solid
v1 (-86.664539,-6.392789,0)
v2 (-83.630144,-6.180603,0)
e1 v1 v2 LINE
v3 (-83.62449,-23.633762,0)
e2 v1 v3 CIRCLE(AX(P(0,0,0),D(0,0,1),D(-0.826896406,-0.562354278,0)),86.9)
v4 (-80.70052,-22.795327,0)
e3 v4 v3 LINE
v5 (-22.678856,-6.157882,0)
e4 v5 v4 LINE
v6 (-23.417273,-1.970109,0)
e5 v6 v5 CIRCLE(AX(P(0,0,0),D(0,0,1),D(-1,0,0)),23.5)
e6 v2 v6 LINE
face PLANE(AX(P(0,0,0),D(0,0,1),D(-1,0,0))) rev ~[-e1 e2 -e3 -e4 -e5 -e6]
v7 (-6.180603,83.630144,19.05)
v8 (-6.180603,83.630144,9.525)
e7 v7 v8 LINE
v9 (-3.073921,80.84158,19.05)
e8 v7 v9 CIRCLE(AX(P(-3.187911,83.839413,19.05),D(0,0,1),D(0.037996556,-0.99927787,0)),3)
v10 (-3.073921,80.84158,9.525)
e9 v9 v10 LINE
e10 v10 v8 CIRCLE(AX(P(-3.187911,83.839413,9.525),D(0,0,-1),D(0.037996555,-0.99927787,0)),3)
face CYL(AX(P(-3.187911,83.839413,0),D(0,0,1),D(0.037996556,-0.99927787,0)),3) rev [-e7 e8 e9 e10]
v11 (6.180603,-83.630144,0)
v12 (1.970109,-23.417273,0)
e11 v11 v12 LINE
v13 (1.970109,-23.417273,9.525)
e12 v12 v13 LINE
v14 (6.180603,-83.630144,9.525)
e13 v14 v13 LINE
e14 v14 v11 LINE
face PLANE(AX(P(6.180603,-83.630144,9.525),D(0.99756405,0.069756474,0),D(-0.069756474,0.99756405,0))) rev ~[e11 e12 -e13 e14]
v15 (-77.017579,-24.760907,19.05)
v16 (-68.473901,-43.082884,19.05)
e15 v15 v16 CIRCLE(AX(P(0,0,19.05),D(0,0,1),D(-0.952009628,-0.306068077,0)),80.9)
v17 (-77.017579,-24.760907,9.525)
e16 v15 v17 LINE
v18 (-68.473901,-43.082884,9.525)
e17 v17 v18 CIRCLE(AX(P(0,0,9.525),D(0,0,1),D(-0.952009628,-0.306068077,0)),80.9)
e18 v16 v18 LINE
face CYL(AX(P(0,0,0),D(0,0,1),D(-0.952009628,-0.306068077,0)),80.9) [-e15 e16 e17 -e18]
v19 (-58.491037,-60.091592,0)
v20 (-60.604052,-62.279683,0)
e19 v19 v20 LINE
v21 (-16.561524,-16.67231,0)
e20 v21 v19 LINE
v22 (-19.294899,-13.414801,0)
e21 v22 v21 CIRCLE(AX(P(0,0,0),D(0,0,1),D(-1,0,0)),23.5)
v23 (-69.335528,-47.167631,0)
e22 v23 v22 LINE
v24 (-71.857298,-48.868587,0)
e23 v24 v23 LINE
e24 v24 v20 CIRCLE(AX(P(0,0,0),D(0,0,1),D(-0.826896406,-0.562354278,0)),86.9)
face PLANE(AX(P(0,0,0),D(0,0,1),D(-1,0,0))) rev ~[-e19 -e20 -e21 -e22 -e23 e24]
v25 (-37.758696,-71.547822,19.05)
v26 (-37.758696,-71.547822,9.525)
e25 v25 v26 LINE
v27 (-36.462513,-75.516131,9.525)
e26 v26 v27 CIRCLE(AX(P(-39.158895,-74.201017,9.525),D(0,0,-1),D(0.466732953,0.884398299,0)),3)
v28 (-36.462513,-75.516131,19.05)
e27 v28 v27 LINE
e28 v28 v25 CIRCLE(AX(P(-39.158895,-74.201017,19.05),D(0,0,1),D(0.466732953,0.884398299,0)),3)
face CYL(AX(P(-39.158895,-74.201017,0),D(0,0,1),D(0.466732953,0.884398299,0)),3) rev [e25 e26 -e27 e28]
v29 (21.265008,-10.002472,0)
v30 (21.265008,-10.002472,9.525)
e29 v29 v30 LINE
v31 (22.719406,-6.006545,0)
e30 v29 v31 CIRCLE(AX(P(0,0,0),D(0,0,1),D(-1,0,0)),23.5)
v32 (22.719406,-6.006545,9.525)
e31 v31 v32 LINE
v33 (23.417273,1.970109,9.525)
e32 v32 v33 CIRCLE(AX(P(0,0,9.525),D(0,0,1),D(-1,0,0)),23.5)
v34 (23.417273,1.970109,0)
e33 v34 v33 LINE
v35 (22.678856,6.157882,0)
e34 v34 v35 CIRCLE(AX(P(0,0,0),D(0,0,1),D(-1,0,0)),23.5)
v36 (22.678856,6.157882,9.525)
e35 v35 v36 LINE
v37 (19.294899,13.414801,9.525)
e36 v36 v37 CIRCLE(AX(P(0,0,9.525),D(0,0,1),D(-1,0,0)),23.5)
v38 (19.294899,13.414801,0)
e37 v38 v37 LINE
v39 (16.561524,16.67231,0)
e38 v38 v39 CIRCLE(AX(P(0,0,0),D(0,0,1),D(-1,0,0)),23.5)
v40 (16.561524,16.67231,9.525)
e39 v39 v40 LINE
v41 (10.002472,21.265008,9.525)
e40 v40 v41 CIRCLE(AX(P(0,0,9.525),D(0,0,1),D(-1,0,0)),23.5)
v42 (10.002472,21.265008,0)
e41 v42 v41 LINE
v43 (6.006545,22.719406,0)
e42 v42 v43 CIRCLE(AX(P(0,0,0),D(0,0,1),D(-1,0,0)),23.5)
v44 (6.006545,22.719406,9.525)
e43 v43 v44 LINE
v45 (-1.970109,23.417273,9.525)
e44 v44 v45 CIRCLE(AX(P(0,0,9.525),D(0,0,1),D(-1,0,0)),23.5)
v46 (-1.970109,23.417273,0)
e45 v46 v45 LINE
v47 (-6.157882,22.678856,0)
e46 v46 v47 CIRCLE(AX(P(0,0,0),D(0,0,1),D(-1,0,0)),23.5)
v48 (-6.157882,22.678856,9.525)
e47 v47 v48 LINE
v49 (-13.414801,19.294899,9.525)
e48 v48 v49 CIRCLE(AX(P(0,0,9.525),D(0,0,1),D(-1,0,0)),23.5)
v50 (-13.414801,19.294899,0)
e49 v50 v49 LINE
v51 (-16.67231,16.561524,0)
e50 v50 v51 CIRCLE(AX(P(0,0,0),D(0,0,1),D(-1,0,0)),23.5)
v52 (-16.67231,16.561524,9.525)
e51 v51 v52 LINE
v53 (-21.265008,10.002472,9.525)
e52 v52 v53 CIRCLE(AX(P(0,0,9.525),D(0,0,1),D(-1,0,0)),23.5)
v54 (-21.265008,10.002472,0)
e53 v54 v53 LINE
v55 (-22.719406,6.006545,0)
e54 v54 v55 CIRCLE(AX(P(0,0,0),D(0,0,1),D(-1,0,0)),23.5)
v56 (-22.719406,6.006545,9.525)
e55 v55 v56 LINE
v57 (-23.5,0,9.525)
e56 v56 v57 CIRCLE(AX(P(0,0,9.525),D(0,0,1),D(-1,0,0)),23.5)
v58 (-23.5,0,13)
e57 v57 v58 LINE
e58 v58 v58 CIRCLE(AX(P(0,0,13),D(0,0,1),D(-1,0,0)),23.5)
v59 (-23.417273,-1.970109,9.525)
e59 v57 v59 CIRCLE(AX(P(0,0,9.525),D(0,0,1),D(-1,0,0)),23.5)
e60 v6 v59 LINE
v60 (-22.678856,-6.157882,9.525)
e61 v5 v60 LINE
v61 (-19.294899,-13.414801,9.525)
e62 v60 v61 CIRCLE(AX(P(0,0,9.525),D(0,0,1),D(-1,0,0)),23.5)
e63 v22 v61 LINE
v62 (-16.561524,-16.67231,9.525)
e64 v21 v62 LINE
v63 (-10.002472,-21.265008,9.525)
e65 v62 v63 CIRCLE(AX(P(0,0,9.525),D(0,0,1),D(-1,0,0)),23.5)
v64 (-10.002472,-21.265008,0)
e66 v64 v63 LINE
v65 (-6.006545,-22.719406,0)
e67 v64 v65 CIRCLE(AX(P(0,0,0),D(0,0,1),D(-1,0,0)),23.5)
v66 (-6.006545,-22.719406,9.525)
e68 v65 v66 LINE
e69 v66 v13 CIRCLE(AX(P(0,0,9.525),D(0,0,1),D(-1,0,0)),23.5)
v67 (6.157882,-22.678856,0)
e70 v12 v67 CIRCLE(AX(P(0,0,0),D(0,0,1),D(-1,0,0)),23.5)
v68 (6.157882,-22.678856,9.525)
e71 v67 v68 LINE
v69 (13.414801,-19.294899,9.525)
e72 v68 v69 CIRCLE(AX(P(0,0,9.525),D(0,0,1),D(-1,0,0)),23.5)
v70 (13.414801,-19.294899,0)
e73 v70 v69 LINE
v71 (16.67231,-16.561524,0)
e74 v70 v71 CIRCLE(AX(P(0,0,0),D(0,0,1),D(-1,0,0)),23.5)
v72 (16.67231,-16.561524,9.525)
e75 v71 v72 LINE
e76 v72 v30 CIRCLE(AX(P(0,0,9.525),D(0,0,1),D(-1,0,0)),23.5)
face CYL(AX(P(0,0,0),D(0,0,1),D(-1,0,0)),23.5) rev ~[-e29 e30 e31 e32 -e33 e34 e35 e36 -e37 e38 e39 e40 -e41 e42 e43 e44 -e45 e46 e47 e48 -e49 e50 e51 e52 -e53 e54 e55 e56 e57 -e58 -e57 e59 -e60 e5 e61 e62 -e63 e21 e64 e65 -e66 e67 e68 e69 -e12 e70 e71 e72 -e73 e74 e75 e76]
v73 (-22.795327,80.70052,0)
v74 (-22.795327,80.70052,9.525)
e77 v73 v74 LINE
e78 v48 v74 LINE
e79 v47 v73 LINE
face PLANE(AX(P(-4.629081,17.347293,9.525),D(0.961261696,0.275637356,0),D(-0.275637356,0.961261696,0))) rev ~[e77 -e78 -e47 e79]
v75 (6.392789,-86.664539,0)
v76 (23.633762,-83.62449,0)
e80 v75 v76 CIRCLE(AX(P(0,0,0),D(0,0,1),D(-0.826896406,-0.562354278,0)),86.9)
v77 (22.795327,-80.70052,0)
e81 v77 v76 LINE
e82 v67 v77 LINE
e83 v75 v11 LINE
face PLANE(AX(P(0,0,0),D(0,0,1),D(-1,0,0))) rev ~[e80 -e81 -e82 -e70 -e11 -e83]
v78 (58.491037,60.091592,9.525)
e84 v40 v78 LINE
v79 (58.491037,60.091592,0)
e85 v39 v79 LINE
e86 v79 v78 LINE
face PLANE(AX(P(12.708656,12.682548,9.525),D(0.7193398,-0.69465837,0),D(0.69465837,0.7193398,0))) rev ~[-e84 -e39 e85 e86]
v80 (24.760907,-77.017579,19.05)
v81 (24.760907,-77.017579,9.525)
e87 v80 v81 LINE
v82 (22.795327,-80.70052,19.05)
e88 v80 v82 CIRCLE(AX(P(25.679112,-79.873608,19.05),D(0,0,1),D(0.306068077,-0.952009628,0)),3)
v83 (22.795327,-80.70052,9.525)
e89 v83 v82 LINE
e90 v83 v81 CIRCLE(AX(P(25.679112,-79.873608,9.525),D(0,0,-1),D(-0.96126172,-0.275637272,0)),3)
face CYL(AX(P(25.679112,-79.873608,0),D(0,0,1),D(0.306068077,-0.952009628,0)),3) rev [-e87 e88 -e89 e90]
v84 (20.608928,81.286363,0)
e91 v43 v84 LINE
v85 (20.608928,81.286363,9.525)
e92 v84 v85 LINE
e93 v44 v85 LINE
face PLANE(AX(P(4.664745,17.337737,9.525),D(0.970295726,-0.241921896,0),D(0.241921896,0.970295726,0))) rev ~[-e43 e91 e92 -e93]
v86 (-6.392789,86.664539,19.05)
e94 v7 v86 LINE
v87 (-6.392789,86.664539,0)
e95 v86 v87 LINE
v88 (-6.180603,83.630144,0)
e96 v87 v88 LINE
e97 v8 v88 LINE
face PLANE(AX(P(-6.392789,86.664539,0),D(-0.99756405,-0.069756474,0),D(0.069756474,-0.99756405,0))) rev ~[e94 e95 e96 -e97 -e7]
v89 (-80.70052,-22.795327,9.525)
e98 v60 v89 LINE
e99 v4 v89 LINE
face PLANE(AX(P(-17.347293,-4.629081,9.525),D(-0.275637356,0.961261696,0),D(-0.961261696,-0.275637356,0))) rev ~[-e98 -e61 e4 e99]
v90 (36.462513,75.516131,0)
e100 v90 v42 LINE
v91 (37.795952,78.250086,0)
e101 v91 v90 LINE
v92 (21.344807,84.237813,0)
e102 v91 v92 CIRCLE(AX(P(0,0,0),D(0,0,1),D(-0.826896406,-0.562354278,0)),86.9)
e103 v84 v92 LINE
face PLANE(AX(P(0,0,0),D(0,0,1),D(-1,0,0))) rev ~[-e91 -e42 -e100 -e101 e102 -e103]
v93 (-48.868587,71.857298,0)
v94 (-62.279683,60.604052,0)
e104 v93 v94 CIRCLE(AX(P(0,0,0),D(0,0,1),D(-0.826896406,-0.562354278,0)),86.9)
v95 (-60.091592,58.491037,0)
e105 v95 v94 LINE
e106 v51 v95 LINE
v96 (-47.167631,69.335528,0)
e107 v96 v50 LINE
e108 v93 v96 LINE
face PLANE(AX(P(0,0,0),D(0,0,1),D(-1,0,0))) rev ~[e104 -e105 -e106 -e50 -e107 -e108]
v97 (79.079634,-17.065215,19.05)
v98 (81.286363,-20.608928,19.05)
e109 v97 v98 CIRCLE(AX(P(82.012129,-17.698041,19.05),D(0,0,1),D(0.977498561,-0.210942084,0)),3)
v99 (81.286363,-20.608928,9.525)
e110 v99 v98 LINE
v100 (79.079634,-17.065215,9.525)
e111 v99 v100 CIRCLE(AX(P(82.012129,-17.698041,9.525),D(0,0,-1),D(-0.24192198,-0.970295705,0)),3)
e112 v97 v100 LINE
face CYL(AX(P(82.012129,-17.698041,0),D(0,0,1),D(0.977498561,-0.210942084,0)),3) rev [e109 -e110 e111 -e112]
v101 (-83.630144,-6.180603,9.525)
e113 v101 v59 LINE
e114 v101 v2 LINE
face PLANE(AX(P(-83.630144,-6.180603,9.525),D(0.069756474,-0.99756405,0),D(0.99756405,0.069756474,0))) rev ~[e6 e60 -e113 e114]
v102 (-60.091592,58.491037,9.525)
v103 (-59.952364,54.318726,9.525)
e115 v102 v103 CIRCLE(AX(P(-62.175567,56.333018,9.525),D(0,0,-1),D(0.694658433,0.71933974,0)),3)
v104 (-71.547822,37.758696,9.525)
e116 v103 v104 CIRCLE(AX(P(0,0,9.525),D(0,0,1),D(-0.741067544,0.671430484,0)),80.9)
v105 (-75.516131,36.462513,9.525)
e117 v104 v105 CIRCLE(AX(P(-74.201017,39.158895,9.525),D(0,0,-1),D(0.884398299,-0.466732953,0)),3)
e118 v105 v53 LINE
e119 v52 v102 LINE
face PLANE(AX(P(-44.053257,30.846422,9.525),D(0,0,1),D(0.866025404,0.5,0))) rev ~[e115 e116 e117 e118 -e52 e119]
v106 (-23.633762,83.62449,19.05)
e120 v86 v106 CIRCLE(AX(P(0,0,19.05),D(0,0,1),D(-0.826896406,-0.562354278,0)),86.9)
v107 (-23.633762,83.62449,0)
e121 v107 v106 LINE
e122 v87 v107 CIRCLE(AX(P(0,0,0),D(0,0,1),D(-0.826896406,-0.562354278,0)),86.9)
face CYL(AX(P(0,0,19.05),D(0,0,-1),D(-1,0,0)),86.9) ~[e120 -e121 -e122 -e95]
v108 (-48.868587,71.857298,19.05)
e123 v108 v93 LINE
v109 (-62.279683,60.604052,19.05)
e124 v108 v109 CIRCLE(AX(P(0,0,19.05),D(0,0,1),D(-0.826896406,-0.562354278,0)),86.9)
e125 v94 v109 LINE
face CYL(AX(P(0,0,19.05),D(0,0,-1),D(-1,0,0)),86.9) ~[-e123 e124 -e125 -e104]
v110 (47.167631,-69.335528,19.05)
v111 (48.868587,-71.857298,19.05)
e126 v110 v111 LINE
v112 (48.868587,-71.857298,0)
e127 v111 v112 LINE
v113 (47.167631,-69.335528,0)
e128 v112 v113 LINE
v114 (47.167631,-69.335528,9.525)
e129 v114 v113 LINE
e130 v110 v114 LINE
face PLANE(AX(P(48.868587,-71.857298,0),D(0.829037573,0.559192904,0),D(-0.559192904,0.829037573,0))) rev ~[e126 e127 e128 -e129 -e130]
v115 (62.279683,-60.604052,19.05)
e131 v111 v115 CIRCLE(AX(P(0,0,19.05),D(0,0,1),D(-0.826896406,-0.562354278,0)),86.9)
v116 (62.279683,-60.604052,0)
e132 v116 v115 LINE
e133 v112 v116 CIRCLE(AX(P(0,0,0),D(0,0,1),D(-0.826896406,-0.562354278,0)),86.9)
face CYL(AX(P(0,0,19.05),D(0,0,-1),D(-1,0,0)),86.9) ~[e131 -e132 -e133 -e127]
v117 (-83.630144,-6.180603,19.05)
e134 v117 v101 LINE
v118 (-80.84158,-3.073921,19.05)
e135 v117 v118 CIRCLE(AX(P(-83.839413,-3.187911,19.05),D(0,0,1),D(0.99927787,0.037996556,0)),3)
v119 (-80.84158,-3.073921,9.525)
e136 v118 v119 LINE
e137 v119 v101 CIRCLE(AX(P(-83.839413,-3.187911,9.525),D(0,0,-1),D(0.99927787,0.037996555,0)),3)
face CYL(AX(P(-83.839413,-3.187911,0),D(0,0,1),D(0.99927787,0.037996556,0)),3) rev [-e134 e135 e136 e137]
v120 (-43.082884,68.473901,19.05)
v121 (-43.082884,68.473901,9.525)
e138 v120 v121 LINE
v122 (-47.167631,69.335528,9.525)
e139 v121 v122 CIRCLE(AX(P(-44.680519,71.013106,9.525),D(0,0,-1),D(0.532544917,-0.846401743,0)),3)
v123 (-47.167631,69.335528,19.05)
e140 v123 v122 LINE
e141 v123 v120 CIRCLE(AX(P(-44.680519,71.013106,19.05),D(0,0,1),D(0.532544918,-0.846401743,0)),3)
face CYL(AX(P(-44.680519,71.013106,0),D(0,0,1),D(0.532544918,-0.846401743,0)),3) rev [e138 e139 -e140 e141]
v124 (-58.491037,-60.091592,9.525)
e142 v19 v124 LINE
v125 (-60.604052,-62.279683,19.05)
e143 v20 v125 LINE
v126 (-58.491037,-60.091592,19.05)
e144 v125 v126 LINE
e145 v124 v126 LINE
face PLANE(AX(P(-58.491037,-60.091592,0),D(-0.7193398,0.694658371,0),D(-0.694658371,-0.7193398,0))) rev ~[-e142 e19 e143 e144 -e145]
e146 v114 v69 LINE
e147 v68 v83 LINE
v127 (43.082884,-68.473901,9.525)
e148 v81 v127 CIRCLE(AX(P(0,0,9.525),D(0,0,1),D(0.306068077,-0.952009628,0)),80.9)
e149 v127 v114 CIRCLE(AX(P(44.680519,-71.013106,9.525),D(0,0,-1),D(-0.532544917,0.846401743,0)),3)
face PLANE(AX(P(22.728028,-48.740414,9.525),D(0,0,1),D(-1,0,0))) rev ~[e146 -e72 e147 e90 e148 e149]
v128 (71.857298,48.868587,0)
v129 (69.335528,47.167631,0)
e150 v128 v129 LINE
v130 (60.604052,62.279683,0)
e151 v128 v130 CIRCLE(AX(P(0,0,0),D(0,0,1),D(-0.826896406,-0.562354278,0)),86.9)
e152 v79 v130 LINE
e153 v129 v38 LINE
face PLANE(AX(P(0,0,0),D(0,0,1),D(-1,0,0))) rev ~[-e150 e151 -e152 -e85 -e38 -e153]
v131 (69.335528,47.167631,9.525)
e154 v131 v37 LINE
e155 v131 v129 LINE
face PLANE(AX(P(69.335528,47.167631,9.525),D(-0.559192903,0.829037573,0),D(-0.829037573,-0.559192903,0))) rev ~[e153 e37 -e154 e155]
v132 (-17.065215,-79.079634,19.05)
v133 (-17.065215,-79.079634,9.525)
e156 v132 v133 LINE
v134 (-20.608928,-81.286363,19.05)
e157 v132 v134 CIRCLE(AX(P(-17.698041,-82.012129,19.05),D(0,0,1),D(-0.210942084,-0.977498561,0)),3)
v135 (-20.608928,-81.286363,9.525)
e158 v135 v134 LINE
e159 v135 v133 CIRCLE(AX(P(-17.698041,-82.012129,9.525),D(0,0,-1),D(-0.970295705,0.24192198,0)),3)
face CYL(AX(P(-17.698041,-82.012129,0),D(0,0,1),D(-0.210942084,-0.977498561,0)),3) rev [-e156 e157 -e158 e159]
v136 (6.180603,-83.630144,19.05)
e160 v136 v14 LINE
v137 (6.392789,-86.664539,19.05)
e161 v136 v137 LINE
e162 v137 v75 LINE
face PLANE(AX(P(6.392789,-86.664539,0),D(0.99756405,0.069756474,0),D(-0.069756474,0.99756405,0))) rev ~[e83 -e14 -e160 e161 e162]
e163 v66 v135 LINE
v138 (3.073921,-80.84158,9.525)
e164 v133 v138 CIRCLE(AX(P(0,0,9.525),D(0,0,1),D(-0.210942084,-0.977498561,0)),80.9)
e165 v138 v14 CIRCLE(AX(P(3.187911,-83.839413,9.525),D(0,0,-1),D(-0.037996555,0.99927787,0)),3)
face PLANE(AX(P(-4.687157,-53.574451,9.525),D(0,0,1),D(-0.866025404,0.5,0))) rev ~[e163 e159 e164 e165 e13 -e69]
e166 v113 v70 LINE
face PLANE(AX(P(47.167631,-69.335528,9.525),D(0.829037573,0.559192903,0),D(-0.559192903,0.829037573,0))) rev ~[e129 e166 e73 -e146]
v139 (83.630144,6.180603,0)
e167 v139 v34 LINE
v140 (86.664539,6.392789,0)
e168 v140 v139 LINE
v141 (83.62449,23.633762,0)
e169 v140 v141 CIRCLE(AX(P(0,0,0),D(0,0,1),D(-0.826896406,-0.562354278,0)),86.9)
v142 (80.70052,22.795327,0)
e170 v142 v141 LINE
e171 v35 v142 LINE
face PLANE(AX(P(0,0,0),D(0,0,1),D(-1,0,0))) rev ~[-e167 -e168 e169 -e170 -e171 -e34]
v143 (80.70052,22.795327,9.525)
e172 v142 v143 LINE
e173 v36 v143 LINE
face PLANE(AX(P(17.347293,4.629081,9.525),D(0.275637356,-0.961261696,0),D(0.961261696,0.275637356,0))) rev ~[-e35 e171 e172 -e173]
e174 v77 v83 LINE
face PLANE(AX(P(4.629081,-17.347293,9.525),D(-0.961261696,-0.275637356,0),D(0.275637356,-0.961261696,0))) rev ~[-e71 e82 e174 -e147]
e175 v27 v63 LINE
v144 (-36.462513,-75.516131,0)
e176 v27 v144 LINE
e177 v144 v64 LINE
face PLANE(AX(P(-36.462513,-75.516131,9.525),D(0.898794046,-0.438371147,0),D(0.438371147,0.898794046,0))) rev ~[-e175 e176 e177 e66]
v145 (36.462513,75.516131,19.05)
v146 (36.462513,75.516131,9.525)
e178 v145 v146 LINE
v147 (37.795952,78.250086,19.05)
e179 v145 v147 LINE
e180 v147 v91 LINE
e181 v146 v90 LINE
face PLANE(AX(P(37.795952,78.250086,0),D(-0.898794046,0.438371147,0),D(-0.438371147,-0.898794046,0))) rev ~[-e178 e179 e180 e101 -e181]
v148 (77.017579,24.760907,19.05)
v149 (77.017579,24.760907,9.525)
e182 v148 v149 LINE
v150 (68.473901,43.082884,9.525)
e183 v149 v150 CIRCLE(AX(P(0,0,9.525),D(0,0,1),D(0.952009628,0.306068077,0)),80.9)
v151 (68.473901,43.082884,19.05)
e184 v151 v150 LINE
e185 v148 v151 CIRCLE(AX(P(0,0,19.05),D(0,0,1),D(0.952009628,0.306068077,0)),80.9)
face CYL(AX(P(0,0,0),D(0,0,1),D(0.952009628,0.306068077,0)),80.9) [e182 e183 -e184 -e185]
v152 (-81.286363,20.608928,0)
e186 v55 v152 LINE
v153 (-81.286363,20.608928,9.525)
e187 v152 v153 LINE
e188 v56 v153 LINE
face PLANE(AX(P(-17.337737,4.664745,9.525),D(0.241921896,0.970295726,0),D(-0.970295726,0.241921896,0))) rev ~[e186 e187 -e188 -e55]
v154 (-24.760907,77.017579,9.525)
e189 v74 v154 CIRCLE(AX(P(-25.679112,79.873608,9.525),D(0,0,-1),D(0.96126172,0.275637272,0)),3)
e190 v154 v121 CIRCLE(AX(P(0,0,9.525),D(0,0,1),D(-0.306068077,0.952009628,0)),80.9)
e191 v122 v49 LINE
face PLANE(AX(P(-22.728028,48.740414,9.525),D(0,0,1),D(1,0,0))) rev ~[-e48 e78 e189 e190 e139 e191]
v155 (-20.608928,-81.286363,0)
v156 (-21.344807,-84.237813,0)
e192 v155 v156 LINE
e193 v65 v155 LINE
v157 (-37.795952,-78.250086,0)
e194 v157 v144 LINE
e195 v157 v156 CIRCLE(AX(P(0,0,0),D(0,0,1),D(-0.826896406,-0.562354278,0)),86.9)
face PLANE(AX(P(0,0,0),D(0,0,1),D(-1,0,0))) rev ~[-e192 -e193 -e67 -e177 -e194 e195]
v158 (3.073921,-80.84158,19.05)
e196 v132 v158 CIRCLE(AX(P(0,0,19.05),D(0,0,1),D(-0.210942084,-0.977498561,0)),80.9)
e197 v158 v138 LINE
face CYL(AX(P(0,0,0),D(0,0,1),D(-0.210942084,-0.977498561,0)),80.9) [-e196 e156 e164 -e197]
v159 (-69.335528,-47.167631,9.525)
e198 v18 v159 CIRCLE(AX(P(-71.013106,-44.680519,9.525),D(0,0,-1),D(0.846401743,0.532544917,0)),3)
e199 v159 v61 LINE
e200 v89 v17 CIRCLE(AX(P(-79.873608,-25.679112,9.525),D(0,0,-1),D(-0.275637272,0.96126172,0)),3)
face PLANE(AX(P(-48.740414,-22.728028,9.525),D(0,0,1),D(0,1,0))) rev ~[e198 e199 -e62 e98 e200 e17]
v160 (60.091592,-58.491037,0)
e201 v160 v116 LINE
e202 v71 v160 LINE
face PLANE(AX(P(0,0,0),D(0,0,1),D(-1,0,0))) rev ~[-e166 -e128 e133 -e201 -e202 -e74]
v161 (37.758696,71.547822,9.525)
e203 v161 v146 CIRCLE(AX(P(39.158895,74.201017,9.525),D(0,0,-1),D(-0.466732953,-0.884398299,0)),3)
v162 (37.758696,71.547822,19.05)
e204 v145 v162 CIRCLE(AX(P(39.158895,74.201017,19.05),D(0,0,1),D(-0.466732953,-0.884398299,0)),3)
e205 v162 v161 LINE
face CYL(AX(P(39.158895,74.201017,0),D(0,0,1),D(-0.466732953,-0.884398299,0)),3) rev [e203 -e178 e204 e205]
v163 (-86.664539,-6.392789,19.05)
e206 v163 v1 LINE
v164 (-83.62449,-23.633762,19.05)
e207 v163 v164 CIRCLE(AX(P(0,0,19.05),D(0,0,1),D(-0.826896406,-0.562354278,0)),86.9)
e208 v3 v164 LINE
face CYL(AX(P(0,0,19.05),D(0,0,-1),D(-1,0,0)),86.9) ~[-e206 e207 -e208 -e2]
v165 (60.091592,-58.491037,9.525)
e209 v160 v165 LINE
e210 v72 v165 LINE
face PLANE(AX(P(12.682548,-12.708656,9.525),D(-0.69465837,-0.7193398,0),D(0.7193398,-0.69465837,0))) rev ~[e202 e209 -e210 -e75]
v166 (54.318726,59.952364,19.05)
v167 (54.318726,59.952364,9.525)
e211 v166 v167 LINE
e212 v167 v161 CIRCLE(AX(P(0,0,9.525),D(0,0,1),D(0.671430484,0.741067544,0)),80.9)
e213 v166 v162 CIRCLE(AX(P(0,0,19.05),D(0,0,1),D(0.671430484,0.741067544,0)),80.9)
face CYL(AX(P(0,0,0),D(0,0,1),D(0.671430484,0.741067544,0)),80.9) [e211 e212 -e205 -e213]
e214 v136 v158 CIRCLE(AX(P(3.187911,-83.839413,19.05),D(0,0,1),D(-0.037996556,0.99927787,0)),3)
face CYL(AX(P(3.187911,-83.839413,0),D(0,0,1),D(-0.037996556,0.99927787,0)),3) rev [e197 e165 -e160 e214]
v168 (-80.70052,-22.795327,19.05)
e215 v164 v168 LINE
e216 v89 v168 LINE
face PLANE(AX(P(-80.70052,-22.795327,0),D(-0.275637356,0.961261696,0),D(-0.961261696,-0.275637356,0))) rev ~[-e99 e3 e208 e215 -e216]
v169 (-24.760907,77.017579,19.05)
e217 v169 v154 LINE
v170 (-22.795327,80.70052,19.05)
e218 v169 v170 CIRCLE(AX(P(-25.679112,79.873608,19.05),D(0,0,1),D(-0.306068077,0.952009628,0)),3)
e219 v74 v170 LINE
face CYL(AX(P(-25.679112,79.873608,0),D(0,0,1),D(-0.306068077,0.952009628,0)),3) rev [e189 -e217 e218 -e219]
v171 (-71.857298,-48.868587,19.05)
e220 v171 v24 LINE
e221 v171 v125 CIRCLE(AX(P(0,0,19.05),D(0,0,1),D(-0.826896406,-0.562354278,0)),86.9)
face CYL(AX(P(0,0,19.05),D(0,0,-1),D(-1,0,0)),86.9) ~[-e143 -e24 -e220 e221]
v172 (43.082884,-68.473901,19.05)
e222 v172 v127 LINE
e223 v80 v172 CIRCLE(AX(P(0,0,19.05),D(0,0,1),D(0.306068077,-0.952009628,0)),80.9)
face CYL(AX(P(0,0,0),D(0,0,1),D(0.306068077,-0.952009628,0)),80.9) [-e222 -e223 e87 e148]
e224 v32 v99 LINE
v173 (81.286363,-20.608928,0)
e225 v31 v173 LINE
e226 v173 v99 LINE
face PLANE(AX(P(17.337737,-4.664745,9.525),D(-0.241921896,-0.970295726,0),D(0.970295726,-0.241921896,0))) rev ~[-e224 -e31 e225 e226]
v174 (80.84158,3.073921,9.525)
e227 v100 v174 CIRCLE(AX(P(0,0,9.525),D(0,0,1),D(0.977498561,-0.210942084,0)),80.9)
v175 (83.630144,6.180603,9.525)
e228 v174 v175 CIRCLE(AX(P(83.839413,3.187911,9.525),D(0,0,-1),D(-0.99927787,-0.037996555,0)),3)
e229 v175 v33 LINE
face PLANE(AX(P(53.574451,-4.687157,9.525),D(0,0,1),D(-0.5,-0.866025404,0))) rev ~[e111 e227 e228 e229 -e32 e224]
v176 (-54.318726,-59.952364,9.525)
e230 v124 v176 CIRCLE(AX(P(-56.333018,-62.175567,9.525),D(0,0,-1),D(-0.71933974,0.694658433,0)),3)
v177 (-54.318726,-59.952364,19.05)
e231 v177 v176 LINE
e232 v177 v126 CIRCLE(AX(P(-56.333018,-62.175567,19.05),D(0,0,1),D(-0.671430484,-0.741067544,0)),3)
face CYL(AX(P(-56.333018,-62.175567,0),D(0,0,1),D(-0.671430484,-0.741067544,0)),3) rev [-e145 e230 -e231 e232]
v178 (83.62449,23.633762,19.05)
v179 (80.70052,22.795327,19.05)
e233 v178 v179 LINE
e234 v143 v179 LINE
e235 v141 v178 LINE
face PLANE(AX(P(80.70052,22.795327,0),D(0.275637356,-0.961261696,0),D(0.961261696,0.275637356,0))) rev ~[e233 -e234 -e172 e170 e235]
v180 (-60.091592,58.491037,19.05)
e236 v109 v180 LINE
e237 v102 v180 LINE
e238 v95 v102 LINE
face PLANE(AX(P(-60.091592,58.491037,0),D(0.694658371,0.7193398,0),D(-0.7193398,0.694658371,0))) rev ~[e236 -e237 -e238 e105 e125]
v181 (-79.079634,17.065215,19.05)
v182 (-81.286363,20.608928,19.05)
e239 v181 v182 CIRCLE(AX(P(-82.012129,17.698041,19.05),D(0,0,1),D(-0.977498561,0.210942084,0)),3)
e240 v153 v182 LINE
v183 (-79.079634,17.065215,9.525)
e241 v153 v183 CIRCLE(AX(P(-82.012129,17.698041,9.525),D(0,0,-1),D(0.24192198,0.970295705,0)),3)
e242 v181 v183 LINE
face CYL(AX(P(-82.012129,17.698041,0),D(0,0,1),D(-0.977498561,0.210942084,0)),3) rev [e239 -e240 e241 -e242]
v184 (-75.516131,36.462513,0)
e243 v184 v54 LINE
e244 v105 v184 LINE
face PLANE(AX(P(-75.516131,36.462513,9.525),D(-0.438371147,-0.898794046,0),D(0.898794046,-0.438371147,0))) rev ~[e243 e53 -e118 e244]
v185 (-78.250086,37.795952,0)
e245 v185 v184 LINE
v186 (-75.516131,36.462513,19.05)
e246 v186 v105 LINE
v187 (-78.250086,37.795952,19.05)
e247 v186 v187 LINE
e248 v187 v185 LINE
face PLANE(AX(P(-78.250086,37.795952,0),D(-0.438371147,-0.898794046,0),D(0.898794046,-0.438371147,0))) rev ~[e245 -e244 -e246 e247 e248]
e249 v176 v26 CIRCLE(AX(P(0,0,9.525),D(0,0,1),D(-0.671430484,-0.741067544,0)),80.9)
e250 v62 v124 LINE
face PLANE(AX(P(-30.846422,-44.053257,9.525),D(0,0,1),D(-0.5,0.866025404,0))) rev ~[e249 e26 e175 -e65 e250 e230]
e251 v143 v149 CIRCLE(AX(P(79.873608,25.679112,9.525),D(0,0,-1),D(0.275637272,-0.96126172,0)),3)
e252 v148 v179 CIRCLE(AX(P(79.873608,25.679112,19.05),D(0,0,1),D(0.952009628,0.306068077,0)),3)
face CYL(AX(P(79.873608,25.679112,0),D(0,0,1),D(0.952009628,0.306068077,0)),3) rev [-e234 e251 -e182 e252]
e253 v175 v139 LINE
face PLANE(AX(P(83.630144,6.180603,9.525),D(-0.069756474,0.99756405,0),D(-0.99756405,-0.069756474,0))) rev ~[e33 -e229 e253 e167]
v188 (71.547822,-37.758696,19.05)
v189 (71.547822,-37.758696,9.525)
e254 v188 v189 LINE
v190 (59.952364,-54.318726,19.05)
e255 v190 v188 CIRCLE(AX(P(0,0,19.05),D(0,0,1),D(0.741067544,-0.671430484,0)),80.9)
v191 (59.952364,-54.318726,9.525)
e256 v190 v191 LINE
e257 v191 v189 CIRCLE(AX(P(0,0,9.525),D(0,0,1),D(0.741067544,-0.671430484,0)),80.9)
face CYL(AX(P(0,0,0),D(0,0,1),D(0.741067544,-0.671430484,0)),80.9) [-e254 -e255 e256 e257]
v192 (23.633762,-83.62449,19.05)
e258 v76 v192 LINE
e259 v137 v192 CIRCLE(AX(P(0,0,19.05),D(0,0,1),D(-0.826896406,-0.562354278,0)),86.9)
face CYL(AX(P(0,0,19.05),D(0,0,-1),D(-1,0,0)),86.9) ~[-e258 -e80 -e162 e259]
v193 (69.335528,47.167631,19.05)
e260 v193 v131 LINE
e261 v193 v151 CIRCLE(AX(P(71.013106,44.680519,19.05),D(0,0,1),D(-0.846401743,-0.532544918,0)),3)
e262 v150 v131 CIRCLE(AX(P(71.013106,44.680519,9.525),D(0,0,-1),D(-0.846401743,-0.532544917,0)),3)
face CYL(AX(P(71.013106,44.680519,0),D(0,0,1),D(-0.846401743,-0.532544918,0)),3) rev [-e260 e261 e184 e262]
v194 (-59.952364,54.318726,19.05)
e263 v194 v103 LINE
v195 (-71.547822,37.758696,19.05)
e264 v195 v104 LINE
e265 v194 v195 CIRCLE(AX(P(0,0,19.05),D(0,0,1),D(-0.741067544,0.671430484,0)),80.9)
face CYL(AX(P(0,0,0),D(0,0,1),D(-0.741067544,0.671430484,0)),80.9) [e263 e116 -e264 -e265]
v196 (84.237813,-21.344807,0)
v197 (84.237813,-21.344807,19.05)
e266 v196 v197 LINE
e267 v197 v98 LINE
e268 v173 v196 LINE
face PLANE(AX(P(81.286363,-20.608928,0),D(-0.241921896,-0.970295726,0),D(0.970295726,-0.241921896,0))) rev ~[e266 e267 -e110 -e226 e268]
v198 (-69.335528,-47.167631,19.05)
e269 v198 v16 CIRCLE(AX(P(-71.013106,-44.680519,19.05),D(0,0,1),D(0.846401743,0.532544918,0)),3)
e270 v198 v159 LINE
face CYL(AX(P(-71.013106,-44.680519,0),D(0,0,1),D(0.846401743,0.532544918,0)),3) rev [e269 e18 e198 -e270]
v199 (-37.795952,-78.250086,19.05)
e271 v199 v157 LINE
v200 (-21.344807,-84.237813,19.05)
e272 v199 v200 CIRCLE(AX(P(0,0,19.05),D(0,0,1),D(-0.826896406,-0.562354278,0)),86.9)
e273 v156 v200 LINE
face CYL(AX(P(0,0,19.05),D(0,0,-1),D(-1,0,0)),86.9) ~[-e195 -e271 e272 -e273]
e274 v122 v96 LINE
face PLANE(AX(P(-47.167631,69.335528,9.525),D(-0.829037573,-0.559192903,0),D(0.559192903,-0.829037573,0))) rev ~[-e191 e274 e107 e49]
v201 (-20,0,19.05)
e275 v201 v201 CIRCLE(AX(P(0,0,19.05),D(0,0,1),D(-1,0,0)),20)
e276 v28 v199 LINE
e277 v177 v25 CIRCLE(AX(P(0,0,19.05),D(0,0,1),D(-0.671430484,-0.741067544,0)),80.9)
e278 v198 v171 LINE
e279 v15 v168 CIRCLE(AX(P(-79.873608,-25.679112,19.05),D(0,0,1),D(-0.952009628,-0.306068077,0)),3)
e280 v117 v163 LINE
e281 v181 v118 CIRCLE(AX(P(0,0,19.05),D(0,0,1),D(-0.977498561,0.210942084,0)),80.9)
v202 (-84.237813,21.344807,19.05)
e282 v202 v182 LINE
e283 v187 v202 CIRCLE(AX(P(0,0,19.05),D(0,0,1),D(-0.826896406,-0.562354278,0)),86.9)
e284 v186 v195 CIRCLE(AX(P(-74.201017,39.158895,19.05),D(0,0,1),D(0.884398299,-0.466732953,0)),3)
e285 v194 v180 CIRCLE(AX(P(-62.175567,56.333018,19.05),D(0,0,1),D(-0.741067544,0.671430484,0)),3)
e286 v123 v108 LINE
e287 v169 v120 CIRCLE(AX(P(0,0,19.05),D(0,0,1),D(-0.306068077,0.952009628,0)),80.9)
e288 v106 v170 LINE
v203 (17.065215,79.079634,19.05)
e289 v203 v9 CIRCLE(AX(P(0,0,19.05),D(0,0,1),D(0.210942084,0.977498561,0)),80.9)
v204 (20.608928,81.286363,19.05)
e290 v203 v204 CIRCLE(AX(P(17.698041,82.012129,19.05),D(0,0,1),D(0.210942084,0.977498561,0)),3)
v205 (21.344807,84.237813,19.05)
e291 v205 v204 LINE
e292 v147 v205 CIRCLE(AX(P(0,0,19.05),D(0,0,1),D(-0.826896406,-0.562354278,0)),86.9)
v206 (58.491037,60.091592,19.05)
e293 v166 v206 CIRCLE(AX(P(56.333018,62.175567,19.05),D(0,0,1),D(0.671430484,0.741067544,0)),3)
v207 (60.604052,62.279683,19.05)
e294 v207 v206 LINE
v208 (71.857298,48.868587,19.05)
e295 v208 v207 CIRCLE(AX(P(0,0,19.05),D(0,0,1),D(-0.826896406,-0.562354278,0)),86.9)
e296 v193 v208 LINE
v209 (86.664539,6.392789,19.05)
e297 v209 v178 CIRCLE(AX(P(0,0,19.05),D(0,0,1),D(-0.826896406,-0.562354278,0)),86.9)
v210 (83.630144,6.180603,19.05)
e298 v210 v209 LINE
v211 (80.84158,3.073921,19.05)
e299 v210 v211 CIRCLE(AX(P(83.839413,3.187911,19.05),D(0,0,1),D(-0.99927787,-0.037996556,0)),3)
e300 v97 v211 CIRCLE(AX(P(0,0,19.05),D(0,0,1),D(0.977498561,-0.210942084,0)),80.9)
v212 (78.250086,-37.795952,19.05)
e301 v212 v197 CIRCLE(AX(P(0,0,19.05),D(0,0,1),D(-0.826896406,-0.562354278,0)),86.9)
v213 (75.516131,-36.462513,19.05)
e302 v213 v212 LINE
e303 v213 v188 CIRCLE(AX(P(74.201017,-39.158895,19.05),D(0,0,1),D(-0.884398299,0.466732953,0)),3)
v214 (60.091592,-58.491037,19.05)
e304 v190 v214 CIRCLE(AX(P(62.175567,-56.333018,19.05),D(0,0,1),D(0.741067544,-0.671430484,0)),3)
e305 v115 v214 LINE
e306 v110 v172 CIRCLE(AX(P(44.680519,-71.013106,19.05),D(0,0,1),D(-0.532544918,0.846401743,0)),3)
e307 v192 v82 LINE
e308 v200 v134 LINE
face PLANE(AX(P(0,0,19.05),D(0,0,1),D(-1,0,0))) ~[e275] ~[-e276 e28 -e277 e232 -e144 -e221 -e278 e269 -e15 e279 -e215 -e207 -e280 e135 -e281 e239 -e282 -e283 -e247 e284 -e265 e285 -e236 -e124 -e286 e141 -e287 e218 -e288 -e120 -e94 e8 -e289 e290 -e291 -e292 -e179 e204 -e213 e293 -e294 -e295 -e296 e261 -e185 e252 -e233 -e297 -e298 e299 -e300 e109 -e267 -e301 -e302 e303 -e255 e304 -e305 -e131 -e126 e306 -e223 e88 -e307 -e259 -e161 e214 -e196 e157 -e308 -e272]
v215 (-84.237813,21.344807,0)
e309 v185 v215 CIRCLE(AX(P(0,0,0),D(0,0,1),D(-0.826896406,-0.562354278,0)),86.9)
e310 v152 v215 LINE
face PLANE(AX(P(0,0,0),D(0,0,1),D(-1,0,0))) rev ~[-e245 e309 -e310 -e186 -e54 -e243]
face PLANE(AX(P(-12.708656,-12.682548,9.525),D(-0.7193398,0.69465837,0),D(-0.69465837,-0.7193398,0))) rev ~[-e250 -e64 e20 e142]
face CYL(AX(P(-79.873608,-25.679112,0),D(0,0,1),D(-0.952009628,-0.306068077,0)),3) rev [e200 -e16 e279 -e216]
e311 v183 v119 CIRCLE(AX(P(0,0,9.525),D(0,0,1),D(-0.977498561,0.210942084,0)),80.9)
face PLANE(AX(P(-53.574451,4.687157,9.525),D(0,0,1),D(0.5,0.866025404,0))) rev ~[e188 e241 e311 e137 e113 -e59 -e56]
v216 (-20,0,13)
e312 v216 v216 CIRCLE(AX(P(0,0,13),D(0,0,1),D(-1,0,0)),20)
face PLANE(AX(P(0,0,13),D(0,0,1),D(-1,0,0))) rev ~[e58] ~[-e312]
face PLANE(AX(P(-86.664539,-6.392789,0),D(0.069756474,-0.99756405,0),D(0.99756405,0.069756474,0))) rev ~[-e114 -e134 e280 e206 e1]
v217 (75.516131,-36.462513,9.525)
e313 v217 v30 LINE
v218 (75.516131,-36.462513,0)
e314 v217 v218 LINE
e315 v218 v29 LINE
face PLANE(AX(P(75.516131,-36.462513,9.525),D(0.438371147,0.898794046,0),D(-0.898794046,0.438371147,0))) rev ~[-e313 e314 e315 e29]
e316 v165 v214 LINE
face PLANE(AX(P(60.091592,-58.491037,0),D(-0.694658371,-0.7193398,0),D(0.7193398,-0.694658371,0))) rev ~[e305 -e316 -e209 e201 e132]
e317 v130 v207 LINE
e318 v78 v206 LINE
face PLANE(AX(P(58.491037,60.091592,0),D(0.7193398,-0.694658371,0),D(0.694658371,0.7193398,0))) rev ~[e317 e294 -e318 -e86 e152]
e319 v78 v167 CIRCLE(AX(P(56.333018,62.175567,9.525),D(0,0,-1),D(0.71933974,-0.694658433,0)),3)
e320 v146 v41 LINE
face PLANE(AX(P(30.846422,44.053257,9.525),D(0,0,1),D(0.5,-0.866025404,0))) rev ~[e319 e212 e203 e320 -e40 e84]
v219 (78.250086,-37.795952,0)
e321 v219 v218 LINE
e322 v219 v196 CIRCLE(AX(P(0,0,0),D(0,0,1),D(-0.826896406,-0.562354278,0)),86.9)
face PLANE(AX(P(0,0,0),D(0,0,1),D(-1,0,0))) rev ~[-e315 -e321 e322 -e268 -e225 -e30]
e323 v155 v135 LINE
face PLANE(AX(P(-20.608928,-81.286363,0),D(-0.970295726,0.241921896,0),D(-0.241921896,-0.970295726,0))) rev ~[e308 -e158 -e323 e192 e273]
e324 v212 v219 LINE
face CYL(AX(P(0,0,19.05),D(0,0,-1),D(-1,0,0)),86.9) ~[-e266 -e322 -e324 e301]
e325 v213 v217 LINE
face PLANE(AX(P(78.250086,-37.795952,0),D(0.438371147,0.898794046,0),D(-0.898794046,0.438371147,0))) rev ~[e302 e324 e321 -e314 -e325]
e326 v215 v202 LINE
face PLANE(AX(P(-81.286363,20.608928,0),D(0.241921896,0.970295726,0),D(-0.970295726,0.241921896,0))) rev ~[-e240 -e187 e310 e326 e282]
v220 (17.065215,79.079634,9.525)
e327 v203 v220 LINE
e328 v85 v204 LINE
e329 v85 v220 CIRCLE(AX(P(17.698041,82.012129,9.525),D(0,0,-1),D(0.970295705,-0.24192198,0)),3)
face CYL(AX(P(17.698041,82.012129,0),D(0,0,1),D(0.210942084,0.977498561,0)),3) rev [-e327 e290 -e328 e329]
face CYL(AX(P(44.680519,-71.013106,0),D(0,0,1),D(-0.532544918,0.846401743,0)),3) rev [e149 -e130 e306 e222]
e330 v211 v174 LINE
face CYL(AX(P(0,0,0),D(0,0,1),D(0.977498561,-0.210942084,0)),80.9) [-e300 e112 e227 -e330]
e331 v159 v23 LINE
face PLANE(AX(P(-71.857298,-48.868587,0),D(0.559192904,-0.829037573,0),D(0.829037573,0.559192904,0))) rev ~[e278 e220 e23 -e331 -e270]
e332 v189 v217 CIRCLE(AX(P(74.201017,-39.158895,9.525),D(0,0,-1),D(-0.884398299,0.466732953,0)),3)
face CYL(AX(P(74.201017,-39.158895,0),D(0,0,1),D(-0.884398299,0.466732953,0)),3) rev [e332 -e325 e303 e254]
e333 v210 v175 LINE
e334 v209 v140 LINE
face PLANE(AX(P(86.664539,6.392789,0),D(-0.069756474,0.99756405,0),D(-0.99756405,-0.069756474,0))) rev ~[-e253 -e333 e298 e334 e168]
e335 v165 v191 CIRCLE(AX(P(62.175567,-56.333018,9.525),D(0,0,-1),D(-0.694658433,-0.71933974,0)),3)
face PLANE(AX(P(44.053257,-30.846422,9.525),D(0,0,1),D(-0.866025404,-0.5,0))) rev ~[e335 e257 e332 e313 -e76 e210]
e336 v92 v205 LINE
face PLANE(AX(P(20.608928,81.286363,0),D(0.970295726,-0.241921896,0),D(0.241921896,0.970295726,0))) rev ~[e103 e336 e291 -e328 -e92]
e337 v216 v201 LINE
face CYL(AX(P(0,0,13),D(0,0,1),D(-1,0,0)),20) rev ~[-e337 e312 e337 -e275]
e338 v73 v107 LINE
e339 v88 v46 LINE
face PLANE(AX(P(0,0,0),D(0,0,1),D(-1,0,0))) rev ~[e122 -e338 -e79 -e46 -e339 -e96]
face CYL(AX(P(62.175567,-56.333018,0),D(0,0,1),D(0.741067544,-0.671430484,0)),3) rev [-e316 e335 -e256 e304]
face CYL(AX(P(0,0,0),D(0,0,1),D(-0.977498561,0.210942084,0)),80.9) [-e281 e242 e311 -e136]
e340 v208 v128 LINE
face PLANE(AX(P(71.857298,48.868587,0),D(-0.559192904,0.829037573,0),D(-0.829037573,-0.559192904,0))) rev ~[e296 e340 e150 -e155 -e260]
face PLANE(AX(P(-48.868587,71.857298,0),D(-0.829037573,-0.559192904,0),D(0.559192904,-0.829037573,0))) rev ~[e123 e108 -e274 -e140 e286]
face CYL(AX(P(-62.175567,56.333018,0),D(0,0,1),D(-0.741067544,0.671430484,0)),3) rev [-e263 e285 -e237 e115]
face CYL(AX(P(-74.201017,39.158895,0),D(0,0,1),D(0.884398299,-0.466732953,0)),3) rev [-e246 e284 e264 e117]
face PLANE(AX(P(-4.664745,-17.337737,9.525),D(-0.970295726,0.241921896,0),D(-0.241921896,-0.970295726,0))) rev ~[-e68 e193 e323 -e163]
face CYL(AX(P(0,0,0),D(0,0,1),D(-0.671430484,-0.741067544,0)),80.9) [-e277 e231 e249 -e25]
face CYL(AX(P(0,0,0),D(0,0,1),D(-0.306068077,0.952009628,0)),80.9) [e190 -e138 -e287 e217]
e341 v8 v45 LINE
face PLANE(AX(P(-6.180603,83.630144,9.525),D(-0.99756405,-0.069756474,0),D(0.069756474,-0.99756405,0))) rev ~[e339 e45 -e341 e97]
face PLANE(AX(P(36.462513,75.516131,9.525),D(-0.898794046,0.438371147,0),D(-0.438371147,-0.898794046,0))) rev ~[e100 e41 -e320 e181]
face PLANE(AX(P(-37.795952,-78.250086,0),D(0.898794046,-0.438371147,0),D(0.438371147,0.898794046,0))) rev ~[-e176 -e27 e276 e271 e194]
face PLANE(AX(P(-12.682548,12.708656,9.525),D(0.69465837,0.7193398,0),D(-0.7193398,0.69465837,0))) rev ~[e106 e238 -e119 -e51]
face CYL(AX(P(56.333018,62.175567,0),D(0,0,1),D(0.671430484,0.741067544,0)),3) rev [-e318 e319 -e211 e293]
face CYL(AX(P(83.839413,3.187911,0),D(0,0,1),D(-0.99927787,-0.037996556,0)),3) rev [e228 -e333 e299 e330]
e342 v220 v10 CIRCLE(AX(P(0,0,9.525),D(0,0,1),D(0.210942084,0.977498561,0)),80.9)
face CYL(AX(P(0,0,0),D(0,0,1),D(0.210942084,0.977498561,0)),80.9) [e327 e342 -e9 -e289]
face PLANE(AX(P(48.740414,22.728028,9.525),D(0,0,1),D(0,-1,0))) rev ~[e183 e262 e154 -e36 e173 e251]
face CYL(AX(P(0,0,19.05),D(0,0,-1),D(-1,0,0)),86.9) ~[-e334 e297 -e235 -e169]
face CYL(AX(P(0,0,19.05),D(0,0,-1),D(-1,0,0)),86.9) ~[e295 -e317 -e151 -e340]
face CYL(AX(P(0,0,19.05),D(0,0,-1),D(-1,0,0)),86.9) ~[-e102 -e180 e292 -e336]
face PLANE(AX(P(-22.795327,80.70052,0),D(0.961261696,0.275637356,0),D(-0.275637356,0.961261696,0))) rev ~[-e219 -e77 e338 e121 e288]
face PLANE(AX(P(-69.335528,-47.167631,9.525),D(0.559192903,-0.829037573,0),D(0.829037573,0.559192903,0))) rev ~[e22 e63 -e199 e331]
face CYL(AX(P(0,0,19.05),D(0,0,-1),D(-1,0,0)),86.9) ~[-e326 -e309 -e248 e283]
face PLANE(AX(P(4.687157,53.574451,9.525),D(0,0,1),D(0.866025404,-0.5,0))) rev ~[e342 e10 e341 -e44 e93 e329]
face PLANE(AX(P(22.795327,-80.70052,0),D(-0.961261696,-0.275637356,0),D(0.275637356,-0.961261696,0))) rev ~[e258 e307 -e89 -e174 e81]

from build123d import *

# Parameters (mm, degrees)
CUT_EXTRUDE1_DEPTH = 125.362866242
CUT_EXTRUDE2_START = 9.525
CUT_EXTRUDE2_DEPTH = 9.525
CIRPATTERN2_COUNT  = 12


with BuildPart() as part:
    # Sketch4 → Revolve1 (revolve)
    with BuildSketch(Plane.YZ):
        Polygon((-20, 13), (-20, 19.05), (-86.9, 19.05), (-86.9, 0), (-23.5, 0), (-23.5, 13), align=None)
    revolve(axis=Axis((0, 0, 0), (0, 0, 1)))

    # Sketch1<4> → Cut-Extrude1 (cut, symmetric)
    with BuildSketch(Plane(origin=(0, 0, 0), x_dir=(0, 1, 0), z_dir=(0, 0, 1))):
        with BuildLine():
            Line((-48.868586739, 71.857297682), (-47.16763138, 69.335527658))
            ThreePointArc((-47.16763138, 69.335527658), (-45.299705883, 68.077700471), (-43.08288383, 68.47390102))
            ThreePointArc((-43.08288383, 68.47390102), (-34.189817375, 73.320299971), (-24.76090746, 77.017578914))
            ThreePointArc((-24.76090746, 77.017578914), (-23.032454577, 78.461090147), (-22.795326532, 80.700519613))
            Line((-22.795326532, 80.700519613), (-23.633761528, 83.62448993))
            ThreePointArc((-23.633761528, 83.62448993), (-36.725526945, 78.758146693), (-48.868586739, 71.857297682))
        make_face()
    cut_extrude1 = extrude(amount=CUT_EXTRUDE1_DEPTH, both=True, mode=Mode.SUBTRACT)

    # Sketch1 → Cut-Extrude2 (cut)
    with BuildSketch(Plane(origin=(0, 0, 0), x_dir=(0, 1, 0), z_dir=(0, 0, 1)).offset(CUT_EXTRUDE2_START)):
        with BuildLine():
            ThreePointArc((-43.08288383, 68.47390102), (-45.299705883, 68.077700471), (-47.16763138, 69.335527658))
            Line((-47.16763138, 69.335527658), (-10.3132812, 14.696706561))
            ThreePointArc((-10.3132812, 14.696706561), (-6.339273926, 13.594616806), (-4.629081023, 17.347292634))
            Line((-4.629081023, 17.347292634), (-22.795326532, 80.700519613))
            ThreePointArc((-22.795326532, 80.700519613), (-23.032454577, 78.461090147), (-24.76090746, 77.017578914))
            ThreePointArc((-24.76090746, 77.017578914), (-34.189817375, 73.320299971), (-43.08288383, 68.47390102))
        make_face()
    cut_extrude2 = extrude(amount=-CUT_EXTRUDE2_DEPTH, mode=Mode.SUBTRACT)

    # CirPattern2: Cut-Extrude1, Cut-Extrude2 ×12 about axis
    cirpattern2_axis = Axis((0, 0, 20.00502805), (0, 0, -1))
    add([cut_extrude1.rotate(cirpattern2_axis, i * 360 / CIRPATTERN2_COUNT) for i in range(1, CIRPATTERN2_COUNT)], mode=Mode.SUBTRACT)
    add([cut_extrude2.rotate(cirpattern2_axis, i * 360 / CIRPATTERN2_COUNT) for i in range(1, CIRPATTERN2_COUNT)], mode=Mode.SUBTRACT)


solid = part.part
